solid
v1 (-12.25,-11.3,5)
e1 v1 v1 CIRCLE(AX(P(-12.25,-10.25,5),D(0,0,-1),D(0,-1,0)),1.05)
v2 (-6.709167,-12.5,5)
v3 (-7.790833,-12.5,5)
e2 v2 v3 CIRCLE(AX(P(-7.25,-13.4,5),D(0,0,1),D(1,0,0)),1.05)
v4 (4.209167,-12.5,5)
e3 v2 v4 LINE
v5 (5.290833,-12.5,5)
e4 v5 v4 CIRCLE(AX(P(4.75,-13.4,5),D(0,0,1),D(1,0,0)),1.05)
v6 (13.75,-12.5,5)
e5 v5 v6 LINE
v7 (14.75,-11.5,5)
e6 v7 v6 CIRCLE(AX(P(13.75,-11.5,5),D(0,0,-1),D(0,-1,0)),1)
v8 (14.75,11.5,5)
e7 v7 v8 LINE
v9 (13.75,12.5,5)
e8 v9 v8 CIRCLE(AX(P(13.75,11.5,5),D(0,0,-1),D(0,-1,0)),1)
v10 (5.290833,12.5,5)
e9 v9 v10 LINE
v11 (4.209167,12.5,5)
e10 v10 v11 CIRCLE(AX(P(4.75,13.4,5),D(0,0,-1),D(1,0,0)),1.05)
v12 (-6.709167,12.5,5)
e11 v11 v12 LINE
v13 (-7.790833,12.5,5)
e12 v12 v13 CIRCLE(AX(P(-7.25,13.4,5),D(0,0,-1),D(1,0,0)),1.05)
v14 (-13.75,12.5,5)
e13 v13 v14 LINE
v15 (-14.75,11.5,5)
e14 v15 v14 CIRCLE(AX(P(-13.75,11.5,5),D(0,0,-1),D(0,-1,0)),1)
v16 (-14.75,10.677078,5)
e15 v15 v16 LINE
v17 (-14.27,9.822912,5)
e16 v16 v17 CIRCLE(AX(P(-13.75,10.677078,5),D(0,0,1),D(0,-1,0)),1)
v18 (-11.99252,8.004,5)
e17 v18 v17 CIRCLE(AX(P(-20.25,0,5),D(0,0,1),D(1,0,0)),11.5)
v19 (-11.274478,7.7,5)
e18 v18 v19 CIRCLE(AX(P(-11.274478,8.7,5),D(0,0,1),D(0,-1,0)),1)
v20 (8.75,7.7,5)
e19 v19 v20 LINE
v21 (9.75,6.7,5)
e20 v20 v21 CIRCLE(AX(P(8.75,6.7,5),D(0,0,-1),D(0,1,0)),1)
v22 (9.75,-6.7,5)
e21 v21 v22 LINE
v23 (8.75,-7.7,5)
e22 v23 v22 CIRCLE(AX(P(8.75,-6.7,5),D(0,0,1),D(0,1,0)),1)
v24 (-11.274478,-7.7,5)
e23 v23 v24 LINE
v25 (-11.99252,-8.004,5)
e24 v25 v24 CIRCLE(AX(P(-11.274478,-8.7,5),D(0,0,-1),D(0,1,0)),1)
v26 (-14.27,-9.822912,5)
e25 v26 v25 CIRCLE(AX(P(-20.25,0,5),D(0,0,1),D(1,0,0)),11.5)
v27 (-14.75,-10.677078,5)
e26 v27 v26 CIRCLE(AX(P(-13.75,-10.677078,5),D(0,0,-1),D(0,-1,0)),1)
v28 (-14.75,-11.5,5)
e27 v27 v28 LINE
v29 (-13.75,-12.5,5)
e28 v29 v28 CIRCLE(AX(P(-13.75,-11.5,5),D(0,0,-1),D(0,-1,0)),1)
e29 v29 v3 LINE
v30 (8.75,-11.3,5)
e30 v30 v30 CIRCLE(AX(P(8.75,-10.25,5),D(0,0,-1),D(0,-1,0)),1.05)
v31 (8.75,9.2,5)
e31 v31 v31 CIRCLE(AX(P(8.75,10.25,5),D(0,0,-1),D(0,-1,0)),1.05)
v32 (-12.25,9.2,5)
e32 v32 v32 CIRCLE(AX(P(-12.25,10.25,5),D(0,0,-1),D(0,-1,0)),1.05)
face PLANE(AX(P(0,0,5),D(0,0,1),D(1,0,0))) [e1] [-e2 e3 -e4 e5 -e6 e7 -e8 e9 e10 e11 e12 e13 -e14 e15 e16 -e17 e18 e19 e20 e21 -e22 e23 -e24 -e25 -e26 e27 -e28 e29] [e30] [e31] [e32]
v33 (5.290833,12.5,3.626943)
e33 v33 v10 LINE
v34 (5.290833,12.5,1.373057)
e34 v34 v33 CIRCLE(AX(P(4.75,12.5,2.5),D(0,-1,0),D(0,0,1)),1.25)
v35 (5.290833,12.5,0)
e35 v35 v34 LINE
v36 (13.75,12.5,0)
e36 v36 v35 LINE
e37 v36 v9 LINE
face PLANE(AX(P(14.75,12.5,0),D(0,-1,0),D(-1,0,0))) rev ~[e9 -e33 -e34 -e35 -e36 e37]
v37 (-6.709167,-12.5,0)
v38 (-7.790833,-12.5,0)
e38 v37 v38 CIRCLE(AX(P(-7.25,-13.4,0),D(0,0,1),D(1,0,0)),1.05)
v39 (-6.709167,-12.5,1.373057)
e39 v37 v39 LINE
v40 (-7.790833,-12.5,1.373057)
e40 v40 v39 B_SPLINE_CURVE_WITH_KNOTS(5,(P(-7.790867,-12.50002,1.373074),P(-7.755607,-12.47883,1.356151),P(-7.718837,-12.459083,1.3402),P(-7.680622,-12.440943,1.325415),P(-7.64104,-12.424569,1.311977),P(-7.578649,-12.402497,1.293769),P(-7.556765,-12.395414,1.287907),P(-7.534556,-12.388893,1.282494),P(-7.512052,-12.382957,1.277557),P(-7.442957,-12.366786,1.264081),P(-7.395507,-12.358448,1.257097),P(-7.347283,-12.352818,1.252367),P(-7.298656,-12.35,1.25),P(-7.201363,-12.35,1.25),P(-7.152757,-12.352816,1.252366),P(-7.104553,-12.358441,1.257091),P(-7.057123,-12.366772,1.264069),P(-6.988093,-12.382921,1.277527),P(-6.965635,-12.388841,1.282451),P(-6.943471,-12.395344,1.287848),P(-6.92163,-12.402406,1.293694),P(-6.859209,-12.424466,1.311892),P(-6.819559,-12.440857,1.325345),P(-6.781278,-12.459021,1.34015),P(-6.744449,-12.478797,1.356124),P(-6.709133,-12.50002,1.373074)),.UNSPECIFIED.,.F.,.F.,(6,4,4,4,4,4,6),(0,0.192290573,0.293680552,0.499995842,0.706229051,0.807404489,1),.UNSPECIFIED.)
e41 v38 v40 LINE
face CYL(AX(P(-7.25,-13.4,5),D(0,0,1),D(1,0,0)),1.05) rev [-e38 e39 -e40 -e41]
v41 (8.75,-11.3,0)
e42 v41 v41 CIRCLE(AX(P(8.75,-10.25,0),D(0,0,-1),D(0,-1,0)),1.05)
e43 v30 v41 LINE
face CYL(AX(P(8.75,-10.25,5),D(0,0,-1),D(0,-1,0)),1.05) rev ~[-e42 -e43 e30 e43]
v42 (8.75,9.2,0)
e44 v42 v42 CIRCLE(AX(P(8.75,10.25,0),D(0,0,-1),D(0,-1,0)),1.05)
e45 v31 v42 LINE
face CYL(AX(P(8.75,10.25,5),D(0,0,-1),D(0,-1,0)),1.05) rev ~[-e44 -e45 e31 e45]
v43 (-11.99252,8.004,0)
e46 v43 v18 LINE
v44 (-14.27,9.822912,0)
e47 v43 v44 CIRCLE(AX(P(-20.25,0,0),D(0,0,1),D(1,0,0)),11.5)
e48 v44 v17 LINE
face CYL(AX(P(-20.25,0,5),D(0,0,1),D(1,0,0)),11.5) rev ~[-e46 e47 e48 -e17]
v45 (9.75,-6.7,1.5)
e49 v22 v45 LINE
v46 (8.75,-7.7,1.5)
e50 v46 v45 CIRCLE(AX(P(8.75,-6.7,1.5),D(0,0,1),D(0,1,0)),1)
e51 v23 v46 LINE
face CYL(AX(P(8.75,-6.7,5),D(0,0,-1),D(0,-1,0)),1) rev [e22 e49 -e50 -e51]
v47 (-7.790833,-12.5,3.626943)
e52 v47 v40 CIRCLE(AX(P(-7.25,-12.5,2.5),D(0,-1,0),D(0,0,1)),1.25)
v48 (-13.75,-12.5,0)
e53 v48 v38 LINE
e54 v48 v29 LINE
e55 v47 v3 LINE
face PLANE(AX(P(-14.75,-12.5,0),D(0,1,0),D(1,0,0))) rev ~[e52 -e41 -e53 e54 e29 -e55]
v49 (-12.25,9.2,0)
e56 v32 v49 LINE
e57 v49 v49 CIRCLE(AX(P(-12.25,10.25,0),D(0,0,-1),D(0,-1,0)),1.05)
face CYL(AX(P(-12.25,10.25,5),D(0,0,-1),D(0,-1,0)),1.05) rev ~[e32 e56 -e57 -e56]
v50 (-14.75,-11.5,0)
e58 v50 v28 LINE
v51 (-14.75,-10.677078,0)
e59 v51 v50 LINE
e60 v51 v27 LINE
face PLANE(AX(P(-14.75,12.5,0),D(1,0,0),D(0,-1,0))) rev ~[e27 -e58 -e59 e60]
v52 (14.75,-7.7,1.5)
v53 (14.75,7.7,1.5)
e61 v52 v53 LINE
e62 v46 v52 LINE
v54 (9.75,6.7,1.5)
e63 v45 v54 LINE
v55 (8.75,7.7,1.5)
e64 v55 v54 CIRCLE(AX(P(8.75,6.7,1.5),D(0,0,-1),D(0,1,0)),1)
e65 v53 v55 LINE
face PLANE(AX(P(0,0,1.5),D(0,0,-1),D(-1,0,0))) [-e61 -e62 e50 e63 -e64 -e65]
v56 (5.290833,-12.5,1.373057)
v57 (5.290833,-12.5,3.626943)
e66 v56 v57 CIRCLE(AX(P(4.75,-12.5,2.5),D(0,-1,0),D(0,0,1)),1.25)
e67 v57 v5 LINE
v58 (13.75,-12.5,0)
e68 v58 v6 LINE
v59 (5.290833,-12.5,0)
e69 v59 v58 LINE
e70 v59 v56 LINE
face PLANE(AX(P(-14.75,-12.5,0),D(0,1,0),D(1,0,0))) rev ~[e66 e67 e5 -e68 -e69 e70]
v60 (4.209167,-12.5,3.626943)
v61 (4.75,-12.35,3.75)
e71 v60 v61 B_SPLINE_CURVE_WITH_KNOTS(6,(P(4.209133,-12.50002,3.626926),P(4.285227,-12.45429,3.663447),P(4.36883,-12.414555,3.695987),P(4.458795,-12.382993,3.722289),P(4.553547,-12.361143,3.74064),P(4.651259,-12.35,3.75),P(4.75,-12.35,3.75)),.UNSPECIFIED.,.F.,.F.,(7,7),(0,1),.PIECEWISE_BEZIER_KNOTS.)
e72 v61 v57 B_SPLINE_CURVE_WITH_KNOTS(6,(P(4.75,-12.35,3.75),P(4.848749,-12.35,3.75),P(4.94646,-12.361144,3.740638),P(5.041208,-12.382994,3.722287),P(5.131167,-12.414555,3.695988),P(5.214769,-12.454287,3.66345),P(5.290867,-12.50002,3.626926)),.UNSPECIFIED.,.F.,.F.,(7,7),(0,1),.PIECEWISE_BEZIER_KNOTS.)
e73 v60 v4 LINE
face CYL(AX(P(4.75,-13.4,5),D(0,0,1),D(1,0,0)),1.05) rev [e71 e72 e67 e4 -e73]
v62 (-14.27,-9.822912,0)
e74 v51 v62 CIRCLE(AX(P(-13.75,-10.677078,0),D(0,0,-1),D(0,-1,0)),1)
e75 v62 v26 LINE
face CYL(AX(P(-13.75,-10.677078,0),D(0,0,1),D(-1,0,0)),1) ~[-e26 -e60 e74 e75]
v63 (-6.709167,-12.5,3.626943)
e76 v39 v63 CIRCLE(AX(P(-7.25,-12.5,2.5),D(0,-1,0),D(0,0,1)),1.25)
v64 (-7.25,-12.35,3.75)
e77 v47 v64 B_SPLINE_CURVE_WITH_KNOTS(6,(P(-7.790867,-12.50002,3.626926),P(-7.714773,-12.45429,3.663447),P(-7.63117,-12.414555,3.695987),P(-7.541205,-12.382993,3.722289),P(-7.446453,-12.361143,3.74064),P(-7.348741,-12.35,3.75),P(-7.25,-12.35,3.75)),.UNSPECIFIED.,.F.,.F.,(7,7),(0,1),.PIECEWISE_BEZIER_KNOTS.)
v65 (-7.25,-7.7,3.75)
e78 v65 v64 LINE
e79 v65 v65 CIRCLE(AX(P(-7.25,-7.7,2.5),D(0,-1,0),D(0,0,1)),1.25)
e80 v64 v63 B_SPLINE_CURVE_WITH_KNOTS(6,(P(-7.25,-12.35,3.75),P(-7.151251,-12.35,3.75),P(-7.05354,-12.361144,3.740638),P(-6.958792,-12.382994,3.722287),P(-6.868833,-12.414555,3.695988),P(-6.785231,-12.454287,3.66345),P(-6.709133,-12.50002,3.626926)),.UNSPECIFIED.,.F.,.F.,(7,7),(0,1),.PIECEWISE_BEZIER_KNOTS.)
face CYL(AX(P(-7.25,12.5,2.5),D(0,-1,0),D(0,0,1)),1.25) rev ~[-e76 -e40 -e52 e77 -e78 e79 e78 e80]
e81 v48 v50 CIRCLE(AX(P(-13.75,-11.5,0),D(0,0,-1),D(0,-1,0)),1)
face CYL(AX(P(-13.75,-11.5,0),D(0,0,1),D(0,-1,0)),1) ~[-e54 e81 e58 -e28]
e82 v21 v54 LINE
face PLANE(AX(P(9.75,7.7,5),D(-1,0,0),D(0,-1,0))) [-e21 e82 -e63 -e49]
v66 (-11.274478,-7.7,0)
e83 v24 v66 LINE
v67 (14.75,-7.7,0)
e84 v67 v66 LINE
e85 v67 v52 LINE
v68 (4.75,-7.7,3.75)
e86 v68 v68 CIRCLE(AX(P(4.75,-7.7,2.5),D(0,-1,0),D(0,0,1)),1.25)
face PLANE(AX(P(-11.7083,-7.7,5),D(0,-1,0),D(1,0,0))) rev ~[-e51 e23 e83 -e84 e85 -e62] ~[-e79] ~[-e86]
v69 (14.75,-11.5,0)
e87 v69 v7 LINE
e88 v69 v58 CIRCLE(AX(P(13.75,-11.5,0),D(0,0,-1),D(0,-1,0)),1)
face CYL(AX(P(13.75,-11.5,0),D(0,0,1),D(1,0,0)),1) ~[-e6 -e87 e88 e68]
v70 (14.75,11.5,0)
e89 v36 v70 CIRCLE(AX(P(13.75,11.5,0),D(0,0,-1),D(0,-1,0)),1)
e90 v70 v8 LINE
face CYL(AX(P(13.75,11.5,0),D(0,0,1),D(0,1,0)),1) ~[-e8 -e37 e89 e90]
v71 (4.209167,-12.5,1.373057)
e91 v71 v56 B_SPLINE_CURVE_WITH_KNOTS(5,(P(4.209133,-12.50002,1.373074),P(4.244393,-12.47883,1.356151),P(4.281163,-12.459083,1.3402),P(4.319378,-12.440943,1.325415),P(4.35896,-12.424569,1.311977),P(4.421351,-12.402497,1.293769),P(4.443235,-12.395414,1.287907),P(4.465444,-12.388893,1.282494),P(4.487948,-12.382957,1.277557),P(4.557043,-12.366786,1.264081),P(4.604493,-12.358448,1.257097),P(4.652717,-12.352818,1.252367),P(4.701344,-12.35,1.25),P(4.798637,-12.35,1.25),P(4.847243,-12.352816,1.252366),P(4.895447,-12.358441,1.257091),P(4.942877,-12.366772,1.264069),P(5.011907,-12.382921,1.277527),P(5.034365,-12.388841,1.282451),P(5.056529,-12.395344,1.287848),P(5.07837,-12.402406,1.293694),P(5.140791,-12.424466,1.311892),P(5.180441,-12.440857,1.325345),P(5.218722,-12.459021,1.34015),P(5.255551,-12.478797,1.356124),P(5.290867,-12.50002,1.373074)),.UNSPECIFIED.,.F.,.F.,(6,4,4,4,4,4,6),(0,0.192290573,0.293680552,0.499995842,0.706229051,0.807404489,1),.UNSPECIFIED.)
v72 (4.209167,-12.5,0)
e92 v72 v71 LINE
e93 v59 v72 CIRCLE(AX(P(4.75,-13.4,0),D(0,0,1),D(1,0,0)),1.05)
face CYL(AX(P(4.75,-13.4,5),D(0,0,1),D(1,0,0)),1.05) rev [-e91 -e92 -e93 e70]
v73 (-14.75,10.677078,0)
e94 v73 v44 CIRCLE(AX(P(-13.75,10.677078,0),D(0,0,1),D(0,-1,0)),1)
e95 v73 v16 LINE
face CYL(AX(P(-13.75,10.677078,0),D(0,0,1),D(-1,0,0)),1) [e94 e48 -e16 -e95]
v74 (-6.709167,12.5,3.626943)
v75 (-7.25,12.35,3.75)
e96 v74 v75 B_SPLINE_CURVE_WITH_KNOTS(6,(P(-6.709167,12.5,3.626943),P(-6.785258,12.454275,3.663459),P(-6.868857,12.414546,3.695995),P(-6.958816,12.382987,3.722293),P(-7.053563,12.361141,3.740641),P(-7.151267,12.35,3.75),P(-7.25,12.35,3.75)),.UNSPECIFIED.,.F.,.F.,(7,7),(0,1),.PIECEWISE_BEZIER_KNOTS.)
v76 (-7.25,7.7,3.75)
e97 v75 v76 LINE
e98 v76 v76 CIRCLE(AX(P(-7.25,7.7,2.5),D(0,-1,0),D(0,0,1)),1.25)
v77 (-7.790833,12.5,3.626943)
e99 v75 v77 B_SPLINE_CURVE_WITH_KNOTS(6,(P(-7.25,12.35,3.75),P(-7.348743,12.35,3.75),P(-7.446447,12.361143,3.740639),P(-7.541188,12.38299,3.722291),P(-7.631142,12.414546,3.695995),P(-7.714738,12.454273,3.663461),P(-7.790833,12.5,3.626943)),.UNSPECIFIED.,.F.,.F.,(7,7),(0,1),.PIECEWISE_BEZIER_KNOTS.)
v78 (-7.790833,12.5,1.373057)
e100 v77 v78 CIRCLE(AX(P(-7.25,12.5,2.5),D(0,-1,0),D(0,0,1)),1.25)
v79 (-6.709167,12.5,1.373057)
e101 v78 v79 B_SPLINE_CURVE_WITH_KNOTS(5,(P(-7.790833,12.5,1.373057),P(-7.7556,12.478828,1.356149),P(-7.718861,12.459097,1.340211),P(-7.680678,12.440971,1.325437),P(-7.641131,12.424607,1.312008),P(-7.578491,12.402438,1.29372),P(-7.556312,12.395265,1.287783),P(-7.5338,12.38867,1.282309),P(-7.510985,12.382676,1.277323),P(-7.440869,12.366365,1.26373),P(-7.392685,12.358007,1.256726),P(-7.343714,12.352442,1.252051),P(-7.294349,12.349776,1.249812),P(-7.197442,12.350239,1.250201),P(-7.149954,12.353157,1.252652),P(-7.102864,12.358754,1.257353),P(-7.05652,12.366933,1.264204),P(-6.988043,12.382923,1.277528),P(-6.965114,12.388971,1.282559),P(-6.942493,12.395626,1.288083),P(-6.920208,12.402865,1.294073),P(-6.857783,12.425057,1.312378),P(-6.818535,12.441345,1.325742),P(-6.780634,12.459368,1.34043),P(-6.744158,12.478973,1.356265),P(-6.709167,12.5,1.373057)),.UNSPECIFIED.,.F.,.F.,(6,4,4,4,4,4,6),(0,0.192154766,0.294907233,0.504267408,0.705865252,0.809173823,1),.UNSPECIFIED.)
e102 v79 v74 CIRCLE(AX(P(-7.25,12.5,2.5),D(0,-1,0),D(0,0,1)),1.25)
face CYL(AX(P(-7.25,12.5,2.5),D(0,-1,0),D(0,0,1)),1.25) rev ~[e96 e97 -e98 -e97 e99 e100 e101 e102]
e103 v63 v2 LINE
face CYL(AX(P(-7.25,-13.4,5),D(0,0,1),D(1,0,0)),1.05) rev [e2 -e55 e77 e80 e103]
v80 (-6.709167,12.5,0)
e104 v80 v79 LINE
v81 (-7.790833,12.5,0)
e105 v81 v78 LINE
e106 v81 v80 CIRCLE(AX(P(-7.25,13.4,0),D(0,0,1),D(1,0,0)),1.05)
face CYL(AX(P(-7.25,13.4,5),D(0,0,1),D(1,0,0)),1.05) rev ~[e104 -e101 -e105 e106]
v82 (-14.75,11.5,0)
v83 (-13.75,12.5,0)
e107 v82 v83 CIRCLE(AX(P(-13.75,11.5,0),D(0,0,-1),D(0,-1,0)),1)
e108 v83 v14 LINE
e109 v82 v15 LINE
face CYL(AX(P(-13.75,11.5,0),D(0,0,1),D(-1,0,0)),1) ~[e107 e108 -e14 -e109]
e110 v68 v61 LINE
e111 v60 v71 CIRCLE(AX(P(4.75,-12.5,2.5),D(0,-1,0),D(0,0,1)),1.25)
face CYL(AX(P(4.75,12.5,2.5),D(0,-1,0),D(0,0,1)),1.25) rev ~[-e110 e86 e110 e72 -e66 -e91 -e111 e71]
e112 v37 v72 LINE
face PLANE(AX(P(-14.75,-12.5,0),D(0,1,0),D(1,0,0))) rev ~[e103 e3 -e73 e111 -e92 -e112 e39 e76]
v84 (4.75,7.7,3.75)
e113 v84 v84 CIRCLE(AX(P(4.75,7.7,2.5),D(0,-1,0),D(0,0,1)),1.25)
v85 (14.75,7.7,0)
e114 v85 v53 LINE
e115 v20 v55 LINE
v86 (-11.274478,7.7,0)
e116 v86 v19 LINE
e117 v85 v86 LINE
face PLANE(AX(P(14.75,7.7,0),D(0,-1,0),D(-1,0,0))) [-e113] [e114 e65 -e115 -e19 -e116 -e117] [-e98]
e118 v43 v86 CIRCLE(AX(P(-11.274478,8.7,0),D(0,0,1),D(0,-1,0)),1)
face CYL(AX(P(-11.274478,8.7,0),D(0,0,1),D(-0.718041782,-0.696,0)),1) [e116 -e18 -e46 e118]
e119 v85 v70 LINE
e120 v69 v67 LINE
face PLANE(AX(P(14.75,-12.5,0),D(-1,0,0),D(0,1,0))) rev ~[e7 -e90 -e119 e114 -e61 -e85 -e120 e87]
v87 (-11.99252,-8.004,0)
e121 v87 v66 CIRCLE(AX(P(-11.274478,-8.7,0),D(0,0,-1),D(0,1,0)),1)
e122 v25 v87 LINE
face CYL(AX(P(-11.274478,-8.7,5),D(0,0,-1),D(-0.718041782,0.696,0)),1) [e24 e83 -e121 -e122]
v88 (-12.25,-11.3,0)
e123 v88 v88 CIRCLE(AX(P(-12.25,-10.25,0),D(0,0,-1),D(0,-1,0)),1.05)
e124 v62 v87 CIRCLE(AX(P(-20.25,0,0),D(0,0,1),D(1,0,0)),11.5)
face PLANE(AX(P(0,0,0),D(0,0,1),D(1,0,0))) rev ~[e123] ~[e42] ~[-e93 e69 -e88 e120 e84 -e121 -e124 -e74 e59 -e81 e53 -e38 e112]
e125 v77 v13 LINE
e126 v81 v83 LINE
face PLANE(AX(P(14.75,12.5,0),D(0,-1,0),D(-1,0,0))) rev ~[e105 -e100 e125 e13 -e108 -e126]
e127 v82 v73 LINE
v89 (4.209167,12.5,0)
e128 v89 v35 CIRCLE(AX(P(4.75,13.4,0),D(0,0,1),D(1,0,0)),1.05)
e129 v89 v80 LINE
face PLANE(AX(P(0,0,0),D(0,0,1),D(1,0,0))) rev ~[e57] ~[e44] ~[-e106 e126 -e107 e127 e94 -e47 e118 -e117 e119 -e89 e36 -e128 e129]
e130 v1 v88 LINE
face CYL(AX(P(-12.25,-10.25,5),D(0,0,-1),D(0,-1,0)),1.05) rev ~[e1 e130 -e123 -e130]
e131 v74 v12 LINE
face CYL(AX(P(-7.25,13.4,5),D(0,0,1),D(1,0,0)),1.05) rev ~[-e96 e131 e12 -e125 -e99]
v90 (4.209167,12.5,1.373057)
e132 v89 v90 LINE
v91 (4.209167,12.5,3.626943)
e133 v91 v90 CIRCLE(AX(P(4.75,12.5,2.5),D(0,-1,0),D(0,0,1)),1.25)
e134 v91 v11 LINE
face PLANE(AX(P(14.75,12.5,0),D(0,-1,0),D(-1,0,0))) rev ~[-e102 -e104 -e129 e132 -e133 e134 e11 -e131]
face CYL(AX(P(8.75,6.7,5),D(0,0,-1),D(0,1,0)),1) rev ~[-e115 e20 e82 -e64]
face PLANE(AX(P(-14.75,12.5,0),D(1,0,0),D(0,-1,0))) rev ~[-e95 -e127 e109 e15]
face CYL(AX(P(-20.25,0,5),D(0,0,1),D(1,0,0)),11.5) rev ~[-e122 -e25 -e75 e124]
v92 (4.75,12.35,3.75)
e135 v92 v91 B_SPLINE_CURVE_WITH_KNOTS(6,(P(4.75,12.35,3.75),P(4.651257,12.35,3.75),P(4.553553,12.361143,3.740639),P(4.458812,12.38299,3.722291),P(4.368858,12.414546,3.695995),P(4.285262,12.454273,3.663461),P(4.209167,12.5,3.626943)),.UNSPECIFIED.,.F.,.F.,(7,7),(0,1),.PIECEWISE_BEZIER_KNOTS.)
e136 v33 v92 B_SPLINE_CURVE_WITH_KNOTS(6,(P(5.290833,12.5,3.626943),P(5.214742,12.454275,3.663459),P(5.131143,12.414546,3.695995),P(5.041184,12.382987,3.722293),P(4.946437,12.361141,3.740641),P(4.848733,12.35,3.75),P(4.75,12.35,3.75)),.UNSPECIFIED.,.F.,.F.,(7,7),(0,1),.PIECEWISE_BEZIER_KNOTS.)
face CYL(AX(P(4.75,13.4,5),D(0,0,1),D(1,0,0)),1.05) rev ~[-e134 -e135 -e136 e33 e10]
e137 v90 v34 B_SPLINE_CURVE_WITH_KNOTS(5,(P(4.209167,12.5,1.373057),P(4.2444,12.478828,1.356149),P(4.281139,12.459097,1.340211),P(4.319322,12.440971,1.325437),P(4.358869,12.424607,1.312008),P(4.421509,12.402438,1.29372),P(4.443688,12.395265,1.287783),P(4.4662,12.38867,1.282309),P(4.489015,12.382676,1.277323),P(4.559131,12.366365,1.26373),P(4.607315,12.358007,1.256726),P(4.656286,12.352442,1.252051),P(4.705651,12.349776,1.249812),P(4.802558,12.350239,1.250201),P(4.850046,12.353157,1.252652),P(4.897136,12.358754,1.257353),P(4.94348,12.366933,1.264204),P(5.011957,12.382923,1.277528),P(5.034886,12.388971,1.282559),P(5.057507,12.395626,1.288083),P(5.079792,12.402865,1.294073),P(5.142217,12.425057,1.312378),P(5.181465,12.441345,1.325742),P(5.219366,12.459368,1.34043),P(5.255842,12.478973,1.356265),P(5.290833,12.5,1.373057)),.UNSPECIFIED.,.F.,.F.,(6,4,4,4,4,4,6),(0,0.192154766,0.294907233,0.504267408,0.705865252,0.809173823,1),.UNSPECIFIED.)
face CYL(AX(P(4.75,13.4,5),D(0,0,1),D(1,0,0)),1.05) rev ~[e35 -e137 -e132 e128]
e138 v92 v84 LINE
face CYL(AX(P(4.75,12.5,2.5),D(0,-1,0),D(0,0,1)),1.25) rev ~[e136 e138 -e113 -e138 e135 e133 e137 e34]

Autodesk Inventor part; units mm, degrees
ref_plane "YZ Plane" through (0, 0, 0) normal (1, 0, 0) x (0, 1, 0)
ref_plane "XZ Plane" through (0, 0, 0) normal (0, 1, 0) x (-1, 0, 0)
ref_plane "XY Plane" through (0, 0, 0) normal (0, 0, 1) x (1, 0, 0)
sketch "スケッチ1" plane through (0, 0, 0) normal (0, 0, 1) x (1, 0, 0)
  line L0 (-14.75, -12.5) -> (14.75, -12.5)
  line L1 (14.75, -12.5) -> (14.75, 12.5)
  line L2 (14.75, 12.5) -> (-14.75, 12.5)
  line L3 (-14.75, 12.5) -> (-14.75, -12.5)
  line L4 (-14.75, -12.5) -> (14.75, 12.5) construction
  line L5 (14.75, -12.5) -> (-14.75, 12.5) construction
  point P0 (0, 0)
  dimension "d0" = 29.5
  dimension "d1" = 25
extrude "プレート1" add sketch "スケッチ1" along normal blind 5
sketch "スケッチ2" plane through (0, 0, 5) normal (0, 0, 1) x (1, 0, 0)
  line L0 (-12.25, -10.25) -> (8.75, -10.25) construction
  line L1 (8.75, -10.25) -> (8.75, 10.25) construction
  line L2 (8.75, 10.25) -> (-12.25, 10.25) construction
  line L3 (-12.25, 10.25) -> (-12.25, -10.25) construction
  line L4 (-12.25, -10.25) -> (8.75, 10.25) construction
  line L5 (8.75, -10.25) -> (-12.25, 10.25) construction
  line L6 (14.75, 12.5) -> (14.75, -12.5) construction
  point P0 (0, 0)
  point P1 (-1.75, 0)
  dimension "d3" = 21
  dimension "d4" = 20.5
  dimension "d5" = 6
hole "穴1" at (-12.25, 10.25, 5) at (8.75, 10.25, 5) at (8.75, -10.25, 5) at (-12.25, -10.25, 5) direction (0, 0, -1) diameter 2.1 end through all
sketch "スケッチ3" plane through (0, 0, 0) normal (0, 0, -1) x (-1, 0, 0)
  line L0 (-14.75, -12.5) -> (-14.75, 12.5) projected
  line L1 (14.75, 12.5) -> (14.75, -12.5) projected
  line L2 (-14.75, 7.7) -> (14.75, 7.7)
  line L3 (14.75, -7.7) -> (-14.75, -7.7)
  line L4 (-14.75, 12.5) -> (14.75, 12.5) projected
  line L5 (14.75, -12.5) -> (-14.75, -12.5) projected
  point P0 (0, 0)
  dimension "d13" = 4.8
  dimension "d14" = 4.8
extrude "押し出し1" cut sketch "スケッチ3" against normal blind 1.5 contours L0 L2 L1 L3
sketch "スケッチ4" plane through (0, 0, 5) normal (0, 0, 1) x (1, 0, 0)
  line L0 (-14.75, 12.5) -> (14.75, 12.5) projected
  line L1 (14.75, -12.5) -> (-14.75, -12.5) projected
  circle A0 centre (-20.25, 0) radius 11.5
  line L2 (14.75, 12.5) -> (14.75, -12.5) projected
  line L3 (-9.25, -9.6) -> (-9.25, 9.6)
  line L4 (9.75, 9.6) -> (9.75, -9.6)
  line L5 (9.75, -9.6) -> (-9.25, 9.6) construction
  line L6 (-9.25, -9.6) -> (9.75, 9.6) construction
  line L7 (-9.25, 7.7) -> (-11.7083, 7.7)
  line L8 (-11.7083, 7.7) -> (-11.7083, -7.7)
  line L9 (-11.7083, -7.7) -> (-9.25, -7.7)
  line L10 (-9.25, -7.7) -> (-9.25, 7.7)
  line L11 (14.75, 7.7) -> (-14.75, 7.7) projected
  line L12 (14.75, 7.7) -> (-14.75, 7.7) projected
  line L13 (14.75, 7.7) -> (-14.75, 7.7) projected
  line L14 (-14.75, -7.7) -> (14.75, -7.7) projected
  line L15 (-14.75, -7.7) -> (14.75, -7.7) projected
  point P0 (0, 0)
  point P1 (14.75, 0)
  point P2 (0.25, 0)
  point P3 (-9.25, 0)
  point P4 (-11.7083, 7.7)
  point P5 (-9.25, -3.3541)
  point P6 (-9.25, 3.3541)
  point P7 (9.75, -7.7)
  point P8 (9.75, 7.7)
  dimension "d18" = 23
  dimension "d17" = 35
  dimension "d19" = 5
  dimension "d22" = 19
extrude "押し出し2" cut sketch "スケッチ4" against normal through all contours L8 A0 | L7 L3 A0 | A0 L3 L8 | A0 L3 L9 | L3 L11 L4 L14 A0 | A0 L3
fillet "フィレット1" radius 1 10 edges at (-11.7083, -7.7, 2.5) (-11.7083, 7.7, 2.5) (-14.75, -10.0995, 2.5) (-14.75, 10.0995, 2.5) (-14.75, -12.5, 2.5) (14.75, -12.5, 2.5) (14.75, 12.5, 2.5) (-14.75, 12.5, 2.5) (9.75, 7.7, 3.25) (9.75, -7.7, 3.25)
sketch "スケッチ5" plane through (0, 0, 5) normal (0, 0, 1) x (1, 0, 0)
  line L0 (-13.75, 12.5) -> (13.75, 12.5) projected
  circle A0 centre (-7.25, 13.4) radius 1.05
  circle A1 centre (4.75, 13.4) radius 1.05
  line L1 (14.75, 11.5) -> (14.75, -11.5) projected
  point P0 (0, 0)
  point P1 (-14.75, 12.5)
  point P2 (14.75, 12.5)
  point P3 (14.75, -12.5)
  dimension "d26" = 2.1
  dimension "d27" = 2.1
  dimension "d28" = 0.9
  dimension "d29" = 0.9
  dimension "d30" = 12
  dimension "d31" = 10
extrude "押し出し3" cut sketch "スケッチ5" against normal through all
sketch "スケッチ6" plane through (-6.7092, 12.5, 0) normal (0, 1, 0) x (1, 0, 0)
  line L0 (-1.0817, -5) -> (-1.0817, 0) projected
  line L1 (0, -5) -> (-1.0817, -5) projected
  line L2 (0, 0) -> (0, -5) projected
  line L3 (-1.0817, 0) -> (0, 0) projected
  line L4 (10.9183, -5) -> (10.9183, 0) projected
  line L5 (12, -5) -> (10.9183, -5) projected
  line L6 (12, 0) -> (12, -5) projected
  line L7 (10.9183, 0) -> (12, 0) projected
  line L8 (-1.5408, -3) -> (-1.5408, 0) construction
  line L9 (-1.5408, 0) -> (-1.5408, -3) construction
  line L10 (-1.0817, -2.5) -> (0, -2.5) construction
  line L11 (10.9183, -2.5) -> (12, -2.5) construction
  line L12 (11.4592, -5) -> (11.4592, 0) construction
  point P0 (6.7092, 0)
  point P1 (-0.5408, -2.5)
  point P2 (11.4592, -2.5)
hole "穴2" at (-7.25, 12.5, 2.5) at (4.75, 12.5, 2.5) direction (0, -1, 0) diameter 2.5 end through all
mirror "ミラー1" about plane through (0, 0, 0) normal (0, 1, 0) of "穴2", "押し出し3"
equation "\"d11\" = Thickness"
equation "\"d14\" = d13"
equation "\"d29\" = d28"
equation "\"d2\" = Thickness"
equation "\"BendRadius\" = Thickness"
equation "\"BendReliefWidth\" = Thickness"
equation "\"BendReliefDepth\" = 0.5 * Thickness"
equation "\"TransitionRadius\" = BendRadius"
equation "\"JacobiRadiusSize\" = BendRadius"
equation "\"GapSize\" = Thickness"
equation "\"Thickness\" = 5"
properties part number "T3.0_servo-mount_bottom_3D プリント"
